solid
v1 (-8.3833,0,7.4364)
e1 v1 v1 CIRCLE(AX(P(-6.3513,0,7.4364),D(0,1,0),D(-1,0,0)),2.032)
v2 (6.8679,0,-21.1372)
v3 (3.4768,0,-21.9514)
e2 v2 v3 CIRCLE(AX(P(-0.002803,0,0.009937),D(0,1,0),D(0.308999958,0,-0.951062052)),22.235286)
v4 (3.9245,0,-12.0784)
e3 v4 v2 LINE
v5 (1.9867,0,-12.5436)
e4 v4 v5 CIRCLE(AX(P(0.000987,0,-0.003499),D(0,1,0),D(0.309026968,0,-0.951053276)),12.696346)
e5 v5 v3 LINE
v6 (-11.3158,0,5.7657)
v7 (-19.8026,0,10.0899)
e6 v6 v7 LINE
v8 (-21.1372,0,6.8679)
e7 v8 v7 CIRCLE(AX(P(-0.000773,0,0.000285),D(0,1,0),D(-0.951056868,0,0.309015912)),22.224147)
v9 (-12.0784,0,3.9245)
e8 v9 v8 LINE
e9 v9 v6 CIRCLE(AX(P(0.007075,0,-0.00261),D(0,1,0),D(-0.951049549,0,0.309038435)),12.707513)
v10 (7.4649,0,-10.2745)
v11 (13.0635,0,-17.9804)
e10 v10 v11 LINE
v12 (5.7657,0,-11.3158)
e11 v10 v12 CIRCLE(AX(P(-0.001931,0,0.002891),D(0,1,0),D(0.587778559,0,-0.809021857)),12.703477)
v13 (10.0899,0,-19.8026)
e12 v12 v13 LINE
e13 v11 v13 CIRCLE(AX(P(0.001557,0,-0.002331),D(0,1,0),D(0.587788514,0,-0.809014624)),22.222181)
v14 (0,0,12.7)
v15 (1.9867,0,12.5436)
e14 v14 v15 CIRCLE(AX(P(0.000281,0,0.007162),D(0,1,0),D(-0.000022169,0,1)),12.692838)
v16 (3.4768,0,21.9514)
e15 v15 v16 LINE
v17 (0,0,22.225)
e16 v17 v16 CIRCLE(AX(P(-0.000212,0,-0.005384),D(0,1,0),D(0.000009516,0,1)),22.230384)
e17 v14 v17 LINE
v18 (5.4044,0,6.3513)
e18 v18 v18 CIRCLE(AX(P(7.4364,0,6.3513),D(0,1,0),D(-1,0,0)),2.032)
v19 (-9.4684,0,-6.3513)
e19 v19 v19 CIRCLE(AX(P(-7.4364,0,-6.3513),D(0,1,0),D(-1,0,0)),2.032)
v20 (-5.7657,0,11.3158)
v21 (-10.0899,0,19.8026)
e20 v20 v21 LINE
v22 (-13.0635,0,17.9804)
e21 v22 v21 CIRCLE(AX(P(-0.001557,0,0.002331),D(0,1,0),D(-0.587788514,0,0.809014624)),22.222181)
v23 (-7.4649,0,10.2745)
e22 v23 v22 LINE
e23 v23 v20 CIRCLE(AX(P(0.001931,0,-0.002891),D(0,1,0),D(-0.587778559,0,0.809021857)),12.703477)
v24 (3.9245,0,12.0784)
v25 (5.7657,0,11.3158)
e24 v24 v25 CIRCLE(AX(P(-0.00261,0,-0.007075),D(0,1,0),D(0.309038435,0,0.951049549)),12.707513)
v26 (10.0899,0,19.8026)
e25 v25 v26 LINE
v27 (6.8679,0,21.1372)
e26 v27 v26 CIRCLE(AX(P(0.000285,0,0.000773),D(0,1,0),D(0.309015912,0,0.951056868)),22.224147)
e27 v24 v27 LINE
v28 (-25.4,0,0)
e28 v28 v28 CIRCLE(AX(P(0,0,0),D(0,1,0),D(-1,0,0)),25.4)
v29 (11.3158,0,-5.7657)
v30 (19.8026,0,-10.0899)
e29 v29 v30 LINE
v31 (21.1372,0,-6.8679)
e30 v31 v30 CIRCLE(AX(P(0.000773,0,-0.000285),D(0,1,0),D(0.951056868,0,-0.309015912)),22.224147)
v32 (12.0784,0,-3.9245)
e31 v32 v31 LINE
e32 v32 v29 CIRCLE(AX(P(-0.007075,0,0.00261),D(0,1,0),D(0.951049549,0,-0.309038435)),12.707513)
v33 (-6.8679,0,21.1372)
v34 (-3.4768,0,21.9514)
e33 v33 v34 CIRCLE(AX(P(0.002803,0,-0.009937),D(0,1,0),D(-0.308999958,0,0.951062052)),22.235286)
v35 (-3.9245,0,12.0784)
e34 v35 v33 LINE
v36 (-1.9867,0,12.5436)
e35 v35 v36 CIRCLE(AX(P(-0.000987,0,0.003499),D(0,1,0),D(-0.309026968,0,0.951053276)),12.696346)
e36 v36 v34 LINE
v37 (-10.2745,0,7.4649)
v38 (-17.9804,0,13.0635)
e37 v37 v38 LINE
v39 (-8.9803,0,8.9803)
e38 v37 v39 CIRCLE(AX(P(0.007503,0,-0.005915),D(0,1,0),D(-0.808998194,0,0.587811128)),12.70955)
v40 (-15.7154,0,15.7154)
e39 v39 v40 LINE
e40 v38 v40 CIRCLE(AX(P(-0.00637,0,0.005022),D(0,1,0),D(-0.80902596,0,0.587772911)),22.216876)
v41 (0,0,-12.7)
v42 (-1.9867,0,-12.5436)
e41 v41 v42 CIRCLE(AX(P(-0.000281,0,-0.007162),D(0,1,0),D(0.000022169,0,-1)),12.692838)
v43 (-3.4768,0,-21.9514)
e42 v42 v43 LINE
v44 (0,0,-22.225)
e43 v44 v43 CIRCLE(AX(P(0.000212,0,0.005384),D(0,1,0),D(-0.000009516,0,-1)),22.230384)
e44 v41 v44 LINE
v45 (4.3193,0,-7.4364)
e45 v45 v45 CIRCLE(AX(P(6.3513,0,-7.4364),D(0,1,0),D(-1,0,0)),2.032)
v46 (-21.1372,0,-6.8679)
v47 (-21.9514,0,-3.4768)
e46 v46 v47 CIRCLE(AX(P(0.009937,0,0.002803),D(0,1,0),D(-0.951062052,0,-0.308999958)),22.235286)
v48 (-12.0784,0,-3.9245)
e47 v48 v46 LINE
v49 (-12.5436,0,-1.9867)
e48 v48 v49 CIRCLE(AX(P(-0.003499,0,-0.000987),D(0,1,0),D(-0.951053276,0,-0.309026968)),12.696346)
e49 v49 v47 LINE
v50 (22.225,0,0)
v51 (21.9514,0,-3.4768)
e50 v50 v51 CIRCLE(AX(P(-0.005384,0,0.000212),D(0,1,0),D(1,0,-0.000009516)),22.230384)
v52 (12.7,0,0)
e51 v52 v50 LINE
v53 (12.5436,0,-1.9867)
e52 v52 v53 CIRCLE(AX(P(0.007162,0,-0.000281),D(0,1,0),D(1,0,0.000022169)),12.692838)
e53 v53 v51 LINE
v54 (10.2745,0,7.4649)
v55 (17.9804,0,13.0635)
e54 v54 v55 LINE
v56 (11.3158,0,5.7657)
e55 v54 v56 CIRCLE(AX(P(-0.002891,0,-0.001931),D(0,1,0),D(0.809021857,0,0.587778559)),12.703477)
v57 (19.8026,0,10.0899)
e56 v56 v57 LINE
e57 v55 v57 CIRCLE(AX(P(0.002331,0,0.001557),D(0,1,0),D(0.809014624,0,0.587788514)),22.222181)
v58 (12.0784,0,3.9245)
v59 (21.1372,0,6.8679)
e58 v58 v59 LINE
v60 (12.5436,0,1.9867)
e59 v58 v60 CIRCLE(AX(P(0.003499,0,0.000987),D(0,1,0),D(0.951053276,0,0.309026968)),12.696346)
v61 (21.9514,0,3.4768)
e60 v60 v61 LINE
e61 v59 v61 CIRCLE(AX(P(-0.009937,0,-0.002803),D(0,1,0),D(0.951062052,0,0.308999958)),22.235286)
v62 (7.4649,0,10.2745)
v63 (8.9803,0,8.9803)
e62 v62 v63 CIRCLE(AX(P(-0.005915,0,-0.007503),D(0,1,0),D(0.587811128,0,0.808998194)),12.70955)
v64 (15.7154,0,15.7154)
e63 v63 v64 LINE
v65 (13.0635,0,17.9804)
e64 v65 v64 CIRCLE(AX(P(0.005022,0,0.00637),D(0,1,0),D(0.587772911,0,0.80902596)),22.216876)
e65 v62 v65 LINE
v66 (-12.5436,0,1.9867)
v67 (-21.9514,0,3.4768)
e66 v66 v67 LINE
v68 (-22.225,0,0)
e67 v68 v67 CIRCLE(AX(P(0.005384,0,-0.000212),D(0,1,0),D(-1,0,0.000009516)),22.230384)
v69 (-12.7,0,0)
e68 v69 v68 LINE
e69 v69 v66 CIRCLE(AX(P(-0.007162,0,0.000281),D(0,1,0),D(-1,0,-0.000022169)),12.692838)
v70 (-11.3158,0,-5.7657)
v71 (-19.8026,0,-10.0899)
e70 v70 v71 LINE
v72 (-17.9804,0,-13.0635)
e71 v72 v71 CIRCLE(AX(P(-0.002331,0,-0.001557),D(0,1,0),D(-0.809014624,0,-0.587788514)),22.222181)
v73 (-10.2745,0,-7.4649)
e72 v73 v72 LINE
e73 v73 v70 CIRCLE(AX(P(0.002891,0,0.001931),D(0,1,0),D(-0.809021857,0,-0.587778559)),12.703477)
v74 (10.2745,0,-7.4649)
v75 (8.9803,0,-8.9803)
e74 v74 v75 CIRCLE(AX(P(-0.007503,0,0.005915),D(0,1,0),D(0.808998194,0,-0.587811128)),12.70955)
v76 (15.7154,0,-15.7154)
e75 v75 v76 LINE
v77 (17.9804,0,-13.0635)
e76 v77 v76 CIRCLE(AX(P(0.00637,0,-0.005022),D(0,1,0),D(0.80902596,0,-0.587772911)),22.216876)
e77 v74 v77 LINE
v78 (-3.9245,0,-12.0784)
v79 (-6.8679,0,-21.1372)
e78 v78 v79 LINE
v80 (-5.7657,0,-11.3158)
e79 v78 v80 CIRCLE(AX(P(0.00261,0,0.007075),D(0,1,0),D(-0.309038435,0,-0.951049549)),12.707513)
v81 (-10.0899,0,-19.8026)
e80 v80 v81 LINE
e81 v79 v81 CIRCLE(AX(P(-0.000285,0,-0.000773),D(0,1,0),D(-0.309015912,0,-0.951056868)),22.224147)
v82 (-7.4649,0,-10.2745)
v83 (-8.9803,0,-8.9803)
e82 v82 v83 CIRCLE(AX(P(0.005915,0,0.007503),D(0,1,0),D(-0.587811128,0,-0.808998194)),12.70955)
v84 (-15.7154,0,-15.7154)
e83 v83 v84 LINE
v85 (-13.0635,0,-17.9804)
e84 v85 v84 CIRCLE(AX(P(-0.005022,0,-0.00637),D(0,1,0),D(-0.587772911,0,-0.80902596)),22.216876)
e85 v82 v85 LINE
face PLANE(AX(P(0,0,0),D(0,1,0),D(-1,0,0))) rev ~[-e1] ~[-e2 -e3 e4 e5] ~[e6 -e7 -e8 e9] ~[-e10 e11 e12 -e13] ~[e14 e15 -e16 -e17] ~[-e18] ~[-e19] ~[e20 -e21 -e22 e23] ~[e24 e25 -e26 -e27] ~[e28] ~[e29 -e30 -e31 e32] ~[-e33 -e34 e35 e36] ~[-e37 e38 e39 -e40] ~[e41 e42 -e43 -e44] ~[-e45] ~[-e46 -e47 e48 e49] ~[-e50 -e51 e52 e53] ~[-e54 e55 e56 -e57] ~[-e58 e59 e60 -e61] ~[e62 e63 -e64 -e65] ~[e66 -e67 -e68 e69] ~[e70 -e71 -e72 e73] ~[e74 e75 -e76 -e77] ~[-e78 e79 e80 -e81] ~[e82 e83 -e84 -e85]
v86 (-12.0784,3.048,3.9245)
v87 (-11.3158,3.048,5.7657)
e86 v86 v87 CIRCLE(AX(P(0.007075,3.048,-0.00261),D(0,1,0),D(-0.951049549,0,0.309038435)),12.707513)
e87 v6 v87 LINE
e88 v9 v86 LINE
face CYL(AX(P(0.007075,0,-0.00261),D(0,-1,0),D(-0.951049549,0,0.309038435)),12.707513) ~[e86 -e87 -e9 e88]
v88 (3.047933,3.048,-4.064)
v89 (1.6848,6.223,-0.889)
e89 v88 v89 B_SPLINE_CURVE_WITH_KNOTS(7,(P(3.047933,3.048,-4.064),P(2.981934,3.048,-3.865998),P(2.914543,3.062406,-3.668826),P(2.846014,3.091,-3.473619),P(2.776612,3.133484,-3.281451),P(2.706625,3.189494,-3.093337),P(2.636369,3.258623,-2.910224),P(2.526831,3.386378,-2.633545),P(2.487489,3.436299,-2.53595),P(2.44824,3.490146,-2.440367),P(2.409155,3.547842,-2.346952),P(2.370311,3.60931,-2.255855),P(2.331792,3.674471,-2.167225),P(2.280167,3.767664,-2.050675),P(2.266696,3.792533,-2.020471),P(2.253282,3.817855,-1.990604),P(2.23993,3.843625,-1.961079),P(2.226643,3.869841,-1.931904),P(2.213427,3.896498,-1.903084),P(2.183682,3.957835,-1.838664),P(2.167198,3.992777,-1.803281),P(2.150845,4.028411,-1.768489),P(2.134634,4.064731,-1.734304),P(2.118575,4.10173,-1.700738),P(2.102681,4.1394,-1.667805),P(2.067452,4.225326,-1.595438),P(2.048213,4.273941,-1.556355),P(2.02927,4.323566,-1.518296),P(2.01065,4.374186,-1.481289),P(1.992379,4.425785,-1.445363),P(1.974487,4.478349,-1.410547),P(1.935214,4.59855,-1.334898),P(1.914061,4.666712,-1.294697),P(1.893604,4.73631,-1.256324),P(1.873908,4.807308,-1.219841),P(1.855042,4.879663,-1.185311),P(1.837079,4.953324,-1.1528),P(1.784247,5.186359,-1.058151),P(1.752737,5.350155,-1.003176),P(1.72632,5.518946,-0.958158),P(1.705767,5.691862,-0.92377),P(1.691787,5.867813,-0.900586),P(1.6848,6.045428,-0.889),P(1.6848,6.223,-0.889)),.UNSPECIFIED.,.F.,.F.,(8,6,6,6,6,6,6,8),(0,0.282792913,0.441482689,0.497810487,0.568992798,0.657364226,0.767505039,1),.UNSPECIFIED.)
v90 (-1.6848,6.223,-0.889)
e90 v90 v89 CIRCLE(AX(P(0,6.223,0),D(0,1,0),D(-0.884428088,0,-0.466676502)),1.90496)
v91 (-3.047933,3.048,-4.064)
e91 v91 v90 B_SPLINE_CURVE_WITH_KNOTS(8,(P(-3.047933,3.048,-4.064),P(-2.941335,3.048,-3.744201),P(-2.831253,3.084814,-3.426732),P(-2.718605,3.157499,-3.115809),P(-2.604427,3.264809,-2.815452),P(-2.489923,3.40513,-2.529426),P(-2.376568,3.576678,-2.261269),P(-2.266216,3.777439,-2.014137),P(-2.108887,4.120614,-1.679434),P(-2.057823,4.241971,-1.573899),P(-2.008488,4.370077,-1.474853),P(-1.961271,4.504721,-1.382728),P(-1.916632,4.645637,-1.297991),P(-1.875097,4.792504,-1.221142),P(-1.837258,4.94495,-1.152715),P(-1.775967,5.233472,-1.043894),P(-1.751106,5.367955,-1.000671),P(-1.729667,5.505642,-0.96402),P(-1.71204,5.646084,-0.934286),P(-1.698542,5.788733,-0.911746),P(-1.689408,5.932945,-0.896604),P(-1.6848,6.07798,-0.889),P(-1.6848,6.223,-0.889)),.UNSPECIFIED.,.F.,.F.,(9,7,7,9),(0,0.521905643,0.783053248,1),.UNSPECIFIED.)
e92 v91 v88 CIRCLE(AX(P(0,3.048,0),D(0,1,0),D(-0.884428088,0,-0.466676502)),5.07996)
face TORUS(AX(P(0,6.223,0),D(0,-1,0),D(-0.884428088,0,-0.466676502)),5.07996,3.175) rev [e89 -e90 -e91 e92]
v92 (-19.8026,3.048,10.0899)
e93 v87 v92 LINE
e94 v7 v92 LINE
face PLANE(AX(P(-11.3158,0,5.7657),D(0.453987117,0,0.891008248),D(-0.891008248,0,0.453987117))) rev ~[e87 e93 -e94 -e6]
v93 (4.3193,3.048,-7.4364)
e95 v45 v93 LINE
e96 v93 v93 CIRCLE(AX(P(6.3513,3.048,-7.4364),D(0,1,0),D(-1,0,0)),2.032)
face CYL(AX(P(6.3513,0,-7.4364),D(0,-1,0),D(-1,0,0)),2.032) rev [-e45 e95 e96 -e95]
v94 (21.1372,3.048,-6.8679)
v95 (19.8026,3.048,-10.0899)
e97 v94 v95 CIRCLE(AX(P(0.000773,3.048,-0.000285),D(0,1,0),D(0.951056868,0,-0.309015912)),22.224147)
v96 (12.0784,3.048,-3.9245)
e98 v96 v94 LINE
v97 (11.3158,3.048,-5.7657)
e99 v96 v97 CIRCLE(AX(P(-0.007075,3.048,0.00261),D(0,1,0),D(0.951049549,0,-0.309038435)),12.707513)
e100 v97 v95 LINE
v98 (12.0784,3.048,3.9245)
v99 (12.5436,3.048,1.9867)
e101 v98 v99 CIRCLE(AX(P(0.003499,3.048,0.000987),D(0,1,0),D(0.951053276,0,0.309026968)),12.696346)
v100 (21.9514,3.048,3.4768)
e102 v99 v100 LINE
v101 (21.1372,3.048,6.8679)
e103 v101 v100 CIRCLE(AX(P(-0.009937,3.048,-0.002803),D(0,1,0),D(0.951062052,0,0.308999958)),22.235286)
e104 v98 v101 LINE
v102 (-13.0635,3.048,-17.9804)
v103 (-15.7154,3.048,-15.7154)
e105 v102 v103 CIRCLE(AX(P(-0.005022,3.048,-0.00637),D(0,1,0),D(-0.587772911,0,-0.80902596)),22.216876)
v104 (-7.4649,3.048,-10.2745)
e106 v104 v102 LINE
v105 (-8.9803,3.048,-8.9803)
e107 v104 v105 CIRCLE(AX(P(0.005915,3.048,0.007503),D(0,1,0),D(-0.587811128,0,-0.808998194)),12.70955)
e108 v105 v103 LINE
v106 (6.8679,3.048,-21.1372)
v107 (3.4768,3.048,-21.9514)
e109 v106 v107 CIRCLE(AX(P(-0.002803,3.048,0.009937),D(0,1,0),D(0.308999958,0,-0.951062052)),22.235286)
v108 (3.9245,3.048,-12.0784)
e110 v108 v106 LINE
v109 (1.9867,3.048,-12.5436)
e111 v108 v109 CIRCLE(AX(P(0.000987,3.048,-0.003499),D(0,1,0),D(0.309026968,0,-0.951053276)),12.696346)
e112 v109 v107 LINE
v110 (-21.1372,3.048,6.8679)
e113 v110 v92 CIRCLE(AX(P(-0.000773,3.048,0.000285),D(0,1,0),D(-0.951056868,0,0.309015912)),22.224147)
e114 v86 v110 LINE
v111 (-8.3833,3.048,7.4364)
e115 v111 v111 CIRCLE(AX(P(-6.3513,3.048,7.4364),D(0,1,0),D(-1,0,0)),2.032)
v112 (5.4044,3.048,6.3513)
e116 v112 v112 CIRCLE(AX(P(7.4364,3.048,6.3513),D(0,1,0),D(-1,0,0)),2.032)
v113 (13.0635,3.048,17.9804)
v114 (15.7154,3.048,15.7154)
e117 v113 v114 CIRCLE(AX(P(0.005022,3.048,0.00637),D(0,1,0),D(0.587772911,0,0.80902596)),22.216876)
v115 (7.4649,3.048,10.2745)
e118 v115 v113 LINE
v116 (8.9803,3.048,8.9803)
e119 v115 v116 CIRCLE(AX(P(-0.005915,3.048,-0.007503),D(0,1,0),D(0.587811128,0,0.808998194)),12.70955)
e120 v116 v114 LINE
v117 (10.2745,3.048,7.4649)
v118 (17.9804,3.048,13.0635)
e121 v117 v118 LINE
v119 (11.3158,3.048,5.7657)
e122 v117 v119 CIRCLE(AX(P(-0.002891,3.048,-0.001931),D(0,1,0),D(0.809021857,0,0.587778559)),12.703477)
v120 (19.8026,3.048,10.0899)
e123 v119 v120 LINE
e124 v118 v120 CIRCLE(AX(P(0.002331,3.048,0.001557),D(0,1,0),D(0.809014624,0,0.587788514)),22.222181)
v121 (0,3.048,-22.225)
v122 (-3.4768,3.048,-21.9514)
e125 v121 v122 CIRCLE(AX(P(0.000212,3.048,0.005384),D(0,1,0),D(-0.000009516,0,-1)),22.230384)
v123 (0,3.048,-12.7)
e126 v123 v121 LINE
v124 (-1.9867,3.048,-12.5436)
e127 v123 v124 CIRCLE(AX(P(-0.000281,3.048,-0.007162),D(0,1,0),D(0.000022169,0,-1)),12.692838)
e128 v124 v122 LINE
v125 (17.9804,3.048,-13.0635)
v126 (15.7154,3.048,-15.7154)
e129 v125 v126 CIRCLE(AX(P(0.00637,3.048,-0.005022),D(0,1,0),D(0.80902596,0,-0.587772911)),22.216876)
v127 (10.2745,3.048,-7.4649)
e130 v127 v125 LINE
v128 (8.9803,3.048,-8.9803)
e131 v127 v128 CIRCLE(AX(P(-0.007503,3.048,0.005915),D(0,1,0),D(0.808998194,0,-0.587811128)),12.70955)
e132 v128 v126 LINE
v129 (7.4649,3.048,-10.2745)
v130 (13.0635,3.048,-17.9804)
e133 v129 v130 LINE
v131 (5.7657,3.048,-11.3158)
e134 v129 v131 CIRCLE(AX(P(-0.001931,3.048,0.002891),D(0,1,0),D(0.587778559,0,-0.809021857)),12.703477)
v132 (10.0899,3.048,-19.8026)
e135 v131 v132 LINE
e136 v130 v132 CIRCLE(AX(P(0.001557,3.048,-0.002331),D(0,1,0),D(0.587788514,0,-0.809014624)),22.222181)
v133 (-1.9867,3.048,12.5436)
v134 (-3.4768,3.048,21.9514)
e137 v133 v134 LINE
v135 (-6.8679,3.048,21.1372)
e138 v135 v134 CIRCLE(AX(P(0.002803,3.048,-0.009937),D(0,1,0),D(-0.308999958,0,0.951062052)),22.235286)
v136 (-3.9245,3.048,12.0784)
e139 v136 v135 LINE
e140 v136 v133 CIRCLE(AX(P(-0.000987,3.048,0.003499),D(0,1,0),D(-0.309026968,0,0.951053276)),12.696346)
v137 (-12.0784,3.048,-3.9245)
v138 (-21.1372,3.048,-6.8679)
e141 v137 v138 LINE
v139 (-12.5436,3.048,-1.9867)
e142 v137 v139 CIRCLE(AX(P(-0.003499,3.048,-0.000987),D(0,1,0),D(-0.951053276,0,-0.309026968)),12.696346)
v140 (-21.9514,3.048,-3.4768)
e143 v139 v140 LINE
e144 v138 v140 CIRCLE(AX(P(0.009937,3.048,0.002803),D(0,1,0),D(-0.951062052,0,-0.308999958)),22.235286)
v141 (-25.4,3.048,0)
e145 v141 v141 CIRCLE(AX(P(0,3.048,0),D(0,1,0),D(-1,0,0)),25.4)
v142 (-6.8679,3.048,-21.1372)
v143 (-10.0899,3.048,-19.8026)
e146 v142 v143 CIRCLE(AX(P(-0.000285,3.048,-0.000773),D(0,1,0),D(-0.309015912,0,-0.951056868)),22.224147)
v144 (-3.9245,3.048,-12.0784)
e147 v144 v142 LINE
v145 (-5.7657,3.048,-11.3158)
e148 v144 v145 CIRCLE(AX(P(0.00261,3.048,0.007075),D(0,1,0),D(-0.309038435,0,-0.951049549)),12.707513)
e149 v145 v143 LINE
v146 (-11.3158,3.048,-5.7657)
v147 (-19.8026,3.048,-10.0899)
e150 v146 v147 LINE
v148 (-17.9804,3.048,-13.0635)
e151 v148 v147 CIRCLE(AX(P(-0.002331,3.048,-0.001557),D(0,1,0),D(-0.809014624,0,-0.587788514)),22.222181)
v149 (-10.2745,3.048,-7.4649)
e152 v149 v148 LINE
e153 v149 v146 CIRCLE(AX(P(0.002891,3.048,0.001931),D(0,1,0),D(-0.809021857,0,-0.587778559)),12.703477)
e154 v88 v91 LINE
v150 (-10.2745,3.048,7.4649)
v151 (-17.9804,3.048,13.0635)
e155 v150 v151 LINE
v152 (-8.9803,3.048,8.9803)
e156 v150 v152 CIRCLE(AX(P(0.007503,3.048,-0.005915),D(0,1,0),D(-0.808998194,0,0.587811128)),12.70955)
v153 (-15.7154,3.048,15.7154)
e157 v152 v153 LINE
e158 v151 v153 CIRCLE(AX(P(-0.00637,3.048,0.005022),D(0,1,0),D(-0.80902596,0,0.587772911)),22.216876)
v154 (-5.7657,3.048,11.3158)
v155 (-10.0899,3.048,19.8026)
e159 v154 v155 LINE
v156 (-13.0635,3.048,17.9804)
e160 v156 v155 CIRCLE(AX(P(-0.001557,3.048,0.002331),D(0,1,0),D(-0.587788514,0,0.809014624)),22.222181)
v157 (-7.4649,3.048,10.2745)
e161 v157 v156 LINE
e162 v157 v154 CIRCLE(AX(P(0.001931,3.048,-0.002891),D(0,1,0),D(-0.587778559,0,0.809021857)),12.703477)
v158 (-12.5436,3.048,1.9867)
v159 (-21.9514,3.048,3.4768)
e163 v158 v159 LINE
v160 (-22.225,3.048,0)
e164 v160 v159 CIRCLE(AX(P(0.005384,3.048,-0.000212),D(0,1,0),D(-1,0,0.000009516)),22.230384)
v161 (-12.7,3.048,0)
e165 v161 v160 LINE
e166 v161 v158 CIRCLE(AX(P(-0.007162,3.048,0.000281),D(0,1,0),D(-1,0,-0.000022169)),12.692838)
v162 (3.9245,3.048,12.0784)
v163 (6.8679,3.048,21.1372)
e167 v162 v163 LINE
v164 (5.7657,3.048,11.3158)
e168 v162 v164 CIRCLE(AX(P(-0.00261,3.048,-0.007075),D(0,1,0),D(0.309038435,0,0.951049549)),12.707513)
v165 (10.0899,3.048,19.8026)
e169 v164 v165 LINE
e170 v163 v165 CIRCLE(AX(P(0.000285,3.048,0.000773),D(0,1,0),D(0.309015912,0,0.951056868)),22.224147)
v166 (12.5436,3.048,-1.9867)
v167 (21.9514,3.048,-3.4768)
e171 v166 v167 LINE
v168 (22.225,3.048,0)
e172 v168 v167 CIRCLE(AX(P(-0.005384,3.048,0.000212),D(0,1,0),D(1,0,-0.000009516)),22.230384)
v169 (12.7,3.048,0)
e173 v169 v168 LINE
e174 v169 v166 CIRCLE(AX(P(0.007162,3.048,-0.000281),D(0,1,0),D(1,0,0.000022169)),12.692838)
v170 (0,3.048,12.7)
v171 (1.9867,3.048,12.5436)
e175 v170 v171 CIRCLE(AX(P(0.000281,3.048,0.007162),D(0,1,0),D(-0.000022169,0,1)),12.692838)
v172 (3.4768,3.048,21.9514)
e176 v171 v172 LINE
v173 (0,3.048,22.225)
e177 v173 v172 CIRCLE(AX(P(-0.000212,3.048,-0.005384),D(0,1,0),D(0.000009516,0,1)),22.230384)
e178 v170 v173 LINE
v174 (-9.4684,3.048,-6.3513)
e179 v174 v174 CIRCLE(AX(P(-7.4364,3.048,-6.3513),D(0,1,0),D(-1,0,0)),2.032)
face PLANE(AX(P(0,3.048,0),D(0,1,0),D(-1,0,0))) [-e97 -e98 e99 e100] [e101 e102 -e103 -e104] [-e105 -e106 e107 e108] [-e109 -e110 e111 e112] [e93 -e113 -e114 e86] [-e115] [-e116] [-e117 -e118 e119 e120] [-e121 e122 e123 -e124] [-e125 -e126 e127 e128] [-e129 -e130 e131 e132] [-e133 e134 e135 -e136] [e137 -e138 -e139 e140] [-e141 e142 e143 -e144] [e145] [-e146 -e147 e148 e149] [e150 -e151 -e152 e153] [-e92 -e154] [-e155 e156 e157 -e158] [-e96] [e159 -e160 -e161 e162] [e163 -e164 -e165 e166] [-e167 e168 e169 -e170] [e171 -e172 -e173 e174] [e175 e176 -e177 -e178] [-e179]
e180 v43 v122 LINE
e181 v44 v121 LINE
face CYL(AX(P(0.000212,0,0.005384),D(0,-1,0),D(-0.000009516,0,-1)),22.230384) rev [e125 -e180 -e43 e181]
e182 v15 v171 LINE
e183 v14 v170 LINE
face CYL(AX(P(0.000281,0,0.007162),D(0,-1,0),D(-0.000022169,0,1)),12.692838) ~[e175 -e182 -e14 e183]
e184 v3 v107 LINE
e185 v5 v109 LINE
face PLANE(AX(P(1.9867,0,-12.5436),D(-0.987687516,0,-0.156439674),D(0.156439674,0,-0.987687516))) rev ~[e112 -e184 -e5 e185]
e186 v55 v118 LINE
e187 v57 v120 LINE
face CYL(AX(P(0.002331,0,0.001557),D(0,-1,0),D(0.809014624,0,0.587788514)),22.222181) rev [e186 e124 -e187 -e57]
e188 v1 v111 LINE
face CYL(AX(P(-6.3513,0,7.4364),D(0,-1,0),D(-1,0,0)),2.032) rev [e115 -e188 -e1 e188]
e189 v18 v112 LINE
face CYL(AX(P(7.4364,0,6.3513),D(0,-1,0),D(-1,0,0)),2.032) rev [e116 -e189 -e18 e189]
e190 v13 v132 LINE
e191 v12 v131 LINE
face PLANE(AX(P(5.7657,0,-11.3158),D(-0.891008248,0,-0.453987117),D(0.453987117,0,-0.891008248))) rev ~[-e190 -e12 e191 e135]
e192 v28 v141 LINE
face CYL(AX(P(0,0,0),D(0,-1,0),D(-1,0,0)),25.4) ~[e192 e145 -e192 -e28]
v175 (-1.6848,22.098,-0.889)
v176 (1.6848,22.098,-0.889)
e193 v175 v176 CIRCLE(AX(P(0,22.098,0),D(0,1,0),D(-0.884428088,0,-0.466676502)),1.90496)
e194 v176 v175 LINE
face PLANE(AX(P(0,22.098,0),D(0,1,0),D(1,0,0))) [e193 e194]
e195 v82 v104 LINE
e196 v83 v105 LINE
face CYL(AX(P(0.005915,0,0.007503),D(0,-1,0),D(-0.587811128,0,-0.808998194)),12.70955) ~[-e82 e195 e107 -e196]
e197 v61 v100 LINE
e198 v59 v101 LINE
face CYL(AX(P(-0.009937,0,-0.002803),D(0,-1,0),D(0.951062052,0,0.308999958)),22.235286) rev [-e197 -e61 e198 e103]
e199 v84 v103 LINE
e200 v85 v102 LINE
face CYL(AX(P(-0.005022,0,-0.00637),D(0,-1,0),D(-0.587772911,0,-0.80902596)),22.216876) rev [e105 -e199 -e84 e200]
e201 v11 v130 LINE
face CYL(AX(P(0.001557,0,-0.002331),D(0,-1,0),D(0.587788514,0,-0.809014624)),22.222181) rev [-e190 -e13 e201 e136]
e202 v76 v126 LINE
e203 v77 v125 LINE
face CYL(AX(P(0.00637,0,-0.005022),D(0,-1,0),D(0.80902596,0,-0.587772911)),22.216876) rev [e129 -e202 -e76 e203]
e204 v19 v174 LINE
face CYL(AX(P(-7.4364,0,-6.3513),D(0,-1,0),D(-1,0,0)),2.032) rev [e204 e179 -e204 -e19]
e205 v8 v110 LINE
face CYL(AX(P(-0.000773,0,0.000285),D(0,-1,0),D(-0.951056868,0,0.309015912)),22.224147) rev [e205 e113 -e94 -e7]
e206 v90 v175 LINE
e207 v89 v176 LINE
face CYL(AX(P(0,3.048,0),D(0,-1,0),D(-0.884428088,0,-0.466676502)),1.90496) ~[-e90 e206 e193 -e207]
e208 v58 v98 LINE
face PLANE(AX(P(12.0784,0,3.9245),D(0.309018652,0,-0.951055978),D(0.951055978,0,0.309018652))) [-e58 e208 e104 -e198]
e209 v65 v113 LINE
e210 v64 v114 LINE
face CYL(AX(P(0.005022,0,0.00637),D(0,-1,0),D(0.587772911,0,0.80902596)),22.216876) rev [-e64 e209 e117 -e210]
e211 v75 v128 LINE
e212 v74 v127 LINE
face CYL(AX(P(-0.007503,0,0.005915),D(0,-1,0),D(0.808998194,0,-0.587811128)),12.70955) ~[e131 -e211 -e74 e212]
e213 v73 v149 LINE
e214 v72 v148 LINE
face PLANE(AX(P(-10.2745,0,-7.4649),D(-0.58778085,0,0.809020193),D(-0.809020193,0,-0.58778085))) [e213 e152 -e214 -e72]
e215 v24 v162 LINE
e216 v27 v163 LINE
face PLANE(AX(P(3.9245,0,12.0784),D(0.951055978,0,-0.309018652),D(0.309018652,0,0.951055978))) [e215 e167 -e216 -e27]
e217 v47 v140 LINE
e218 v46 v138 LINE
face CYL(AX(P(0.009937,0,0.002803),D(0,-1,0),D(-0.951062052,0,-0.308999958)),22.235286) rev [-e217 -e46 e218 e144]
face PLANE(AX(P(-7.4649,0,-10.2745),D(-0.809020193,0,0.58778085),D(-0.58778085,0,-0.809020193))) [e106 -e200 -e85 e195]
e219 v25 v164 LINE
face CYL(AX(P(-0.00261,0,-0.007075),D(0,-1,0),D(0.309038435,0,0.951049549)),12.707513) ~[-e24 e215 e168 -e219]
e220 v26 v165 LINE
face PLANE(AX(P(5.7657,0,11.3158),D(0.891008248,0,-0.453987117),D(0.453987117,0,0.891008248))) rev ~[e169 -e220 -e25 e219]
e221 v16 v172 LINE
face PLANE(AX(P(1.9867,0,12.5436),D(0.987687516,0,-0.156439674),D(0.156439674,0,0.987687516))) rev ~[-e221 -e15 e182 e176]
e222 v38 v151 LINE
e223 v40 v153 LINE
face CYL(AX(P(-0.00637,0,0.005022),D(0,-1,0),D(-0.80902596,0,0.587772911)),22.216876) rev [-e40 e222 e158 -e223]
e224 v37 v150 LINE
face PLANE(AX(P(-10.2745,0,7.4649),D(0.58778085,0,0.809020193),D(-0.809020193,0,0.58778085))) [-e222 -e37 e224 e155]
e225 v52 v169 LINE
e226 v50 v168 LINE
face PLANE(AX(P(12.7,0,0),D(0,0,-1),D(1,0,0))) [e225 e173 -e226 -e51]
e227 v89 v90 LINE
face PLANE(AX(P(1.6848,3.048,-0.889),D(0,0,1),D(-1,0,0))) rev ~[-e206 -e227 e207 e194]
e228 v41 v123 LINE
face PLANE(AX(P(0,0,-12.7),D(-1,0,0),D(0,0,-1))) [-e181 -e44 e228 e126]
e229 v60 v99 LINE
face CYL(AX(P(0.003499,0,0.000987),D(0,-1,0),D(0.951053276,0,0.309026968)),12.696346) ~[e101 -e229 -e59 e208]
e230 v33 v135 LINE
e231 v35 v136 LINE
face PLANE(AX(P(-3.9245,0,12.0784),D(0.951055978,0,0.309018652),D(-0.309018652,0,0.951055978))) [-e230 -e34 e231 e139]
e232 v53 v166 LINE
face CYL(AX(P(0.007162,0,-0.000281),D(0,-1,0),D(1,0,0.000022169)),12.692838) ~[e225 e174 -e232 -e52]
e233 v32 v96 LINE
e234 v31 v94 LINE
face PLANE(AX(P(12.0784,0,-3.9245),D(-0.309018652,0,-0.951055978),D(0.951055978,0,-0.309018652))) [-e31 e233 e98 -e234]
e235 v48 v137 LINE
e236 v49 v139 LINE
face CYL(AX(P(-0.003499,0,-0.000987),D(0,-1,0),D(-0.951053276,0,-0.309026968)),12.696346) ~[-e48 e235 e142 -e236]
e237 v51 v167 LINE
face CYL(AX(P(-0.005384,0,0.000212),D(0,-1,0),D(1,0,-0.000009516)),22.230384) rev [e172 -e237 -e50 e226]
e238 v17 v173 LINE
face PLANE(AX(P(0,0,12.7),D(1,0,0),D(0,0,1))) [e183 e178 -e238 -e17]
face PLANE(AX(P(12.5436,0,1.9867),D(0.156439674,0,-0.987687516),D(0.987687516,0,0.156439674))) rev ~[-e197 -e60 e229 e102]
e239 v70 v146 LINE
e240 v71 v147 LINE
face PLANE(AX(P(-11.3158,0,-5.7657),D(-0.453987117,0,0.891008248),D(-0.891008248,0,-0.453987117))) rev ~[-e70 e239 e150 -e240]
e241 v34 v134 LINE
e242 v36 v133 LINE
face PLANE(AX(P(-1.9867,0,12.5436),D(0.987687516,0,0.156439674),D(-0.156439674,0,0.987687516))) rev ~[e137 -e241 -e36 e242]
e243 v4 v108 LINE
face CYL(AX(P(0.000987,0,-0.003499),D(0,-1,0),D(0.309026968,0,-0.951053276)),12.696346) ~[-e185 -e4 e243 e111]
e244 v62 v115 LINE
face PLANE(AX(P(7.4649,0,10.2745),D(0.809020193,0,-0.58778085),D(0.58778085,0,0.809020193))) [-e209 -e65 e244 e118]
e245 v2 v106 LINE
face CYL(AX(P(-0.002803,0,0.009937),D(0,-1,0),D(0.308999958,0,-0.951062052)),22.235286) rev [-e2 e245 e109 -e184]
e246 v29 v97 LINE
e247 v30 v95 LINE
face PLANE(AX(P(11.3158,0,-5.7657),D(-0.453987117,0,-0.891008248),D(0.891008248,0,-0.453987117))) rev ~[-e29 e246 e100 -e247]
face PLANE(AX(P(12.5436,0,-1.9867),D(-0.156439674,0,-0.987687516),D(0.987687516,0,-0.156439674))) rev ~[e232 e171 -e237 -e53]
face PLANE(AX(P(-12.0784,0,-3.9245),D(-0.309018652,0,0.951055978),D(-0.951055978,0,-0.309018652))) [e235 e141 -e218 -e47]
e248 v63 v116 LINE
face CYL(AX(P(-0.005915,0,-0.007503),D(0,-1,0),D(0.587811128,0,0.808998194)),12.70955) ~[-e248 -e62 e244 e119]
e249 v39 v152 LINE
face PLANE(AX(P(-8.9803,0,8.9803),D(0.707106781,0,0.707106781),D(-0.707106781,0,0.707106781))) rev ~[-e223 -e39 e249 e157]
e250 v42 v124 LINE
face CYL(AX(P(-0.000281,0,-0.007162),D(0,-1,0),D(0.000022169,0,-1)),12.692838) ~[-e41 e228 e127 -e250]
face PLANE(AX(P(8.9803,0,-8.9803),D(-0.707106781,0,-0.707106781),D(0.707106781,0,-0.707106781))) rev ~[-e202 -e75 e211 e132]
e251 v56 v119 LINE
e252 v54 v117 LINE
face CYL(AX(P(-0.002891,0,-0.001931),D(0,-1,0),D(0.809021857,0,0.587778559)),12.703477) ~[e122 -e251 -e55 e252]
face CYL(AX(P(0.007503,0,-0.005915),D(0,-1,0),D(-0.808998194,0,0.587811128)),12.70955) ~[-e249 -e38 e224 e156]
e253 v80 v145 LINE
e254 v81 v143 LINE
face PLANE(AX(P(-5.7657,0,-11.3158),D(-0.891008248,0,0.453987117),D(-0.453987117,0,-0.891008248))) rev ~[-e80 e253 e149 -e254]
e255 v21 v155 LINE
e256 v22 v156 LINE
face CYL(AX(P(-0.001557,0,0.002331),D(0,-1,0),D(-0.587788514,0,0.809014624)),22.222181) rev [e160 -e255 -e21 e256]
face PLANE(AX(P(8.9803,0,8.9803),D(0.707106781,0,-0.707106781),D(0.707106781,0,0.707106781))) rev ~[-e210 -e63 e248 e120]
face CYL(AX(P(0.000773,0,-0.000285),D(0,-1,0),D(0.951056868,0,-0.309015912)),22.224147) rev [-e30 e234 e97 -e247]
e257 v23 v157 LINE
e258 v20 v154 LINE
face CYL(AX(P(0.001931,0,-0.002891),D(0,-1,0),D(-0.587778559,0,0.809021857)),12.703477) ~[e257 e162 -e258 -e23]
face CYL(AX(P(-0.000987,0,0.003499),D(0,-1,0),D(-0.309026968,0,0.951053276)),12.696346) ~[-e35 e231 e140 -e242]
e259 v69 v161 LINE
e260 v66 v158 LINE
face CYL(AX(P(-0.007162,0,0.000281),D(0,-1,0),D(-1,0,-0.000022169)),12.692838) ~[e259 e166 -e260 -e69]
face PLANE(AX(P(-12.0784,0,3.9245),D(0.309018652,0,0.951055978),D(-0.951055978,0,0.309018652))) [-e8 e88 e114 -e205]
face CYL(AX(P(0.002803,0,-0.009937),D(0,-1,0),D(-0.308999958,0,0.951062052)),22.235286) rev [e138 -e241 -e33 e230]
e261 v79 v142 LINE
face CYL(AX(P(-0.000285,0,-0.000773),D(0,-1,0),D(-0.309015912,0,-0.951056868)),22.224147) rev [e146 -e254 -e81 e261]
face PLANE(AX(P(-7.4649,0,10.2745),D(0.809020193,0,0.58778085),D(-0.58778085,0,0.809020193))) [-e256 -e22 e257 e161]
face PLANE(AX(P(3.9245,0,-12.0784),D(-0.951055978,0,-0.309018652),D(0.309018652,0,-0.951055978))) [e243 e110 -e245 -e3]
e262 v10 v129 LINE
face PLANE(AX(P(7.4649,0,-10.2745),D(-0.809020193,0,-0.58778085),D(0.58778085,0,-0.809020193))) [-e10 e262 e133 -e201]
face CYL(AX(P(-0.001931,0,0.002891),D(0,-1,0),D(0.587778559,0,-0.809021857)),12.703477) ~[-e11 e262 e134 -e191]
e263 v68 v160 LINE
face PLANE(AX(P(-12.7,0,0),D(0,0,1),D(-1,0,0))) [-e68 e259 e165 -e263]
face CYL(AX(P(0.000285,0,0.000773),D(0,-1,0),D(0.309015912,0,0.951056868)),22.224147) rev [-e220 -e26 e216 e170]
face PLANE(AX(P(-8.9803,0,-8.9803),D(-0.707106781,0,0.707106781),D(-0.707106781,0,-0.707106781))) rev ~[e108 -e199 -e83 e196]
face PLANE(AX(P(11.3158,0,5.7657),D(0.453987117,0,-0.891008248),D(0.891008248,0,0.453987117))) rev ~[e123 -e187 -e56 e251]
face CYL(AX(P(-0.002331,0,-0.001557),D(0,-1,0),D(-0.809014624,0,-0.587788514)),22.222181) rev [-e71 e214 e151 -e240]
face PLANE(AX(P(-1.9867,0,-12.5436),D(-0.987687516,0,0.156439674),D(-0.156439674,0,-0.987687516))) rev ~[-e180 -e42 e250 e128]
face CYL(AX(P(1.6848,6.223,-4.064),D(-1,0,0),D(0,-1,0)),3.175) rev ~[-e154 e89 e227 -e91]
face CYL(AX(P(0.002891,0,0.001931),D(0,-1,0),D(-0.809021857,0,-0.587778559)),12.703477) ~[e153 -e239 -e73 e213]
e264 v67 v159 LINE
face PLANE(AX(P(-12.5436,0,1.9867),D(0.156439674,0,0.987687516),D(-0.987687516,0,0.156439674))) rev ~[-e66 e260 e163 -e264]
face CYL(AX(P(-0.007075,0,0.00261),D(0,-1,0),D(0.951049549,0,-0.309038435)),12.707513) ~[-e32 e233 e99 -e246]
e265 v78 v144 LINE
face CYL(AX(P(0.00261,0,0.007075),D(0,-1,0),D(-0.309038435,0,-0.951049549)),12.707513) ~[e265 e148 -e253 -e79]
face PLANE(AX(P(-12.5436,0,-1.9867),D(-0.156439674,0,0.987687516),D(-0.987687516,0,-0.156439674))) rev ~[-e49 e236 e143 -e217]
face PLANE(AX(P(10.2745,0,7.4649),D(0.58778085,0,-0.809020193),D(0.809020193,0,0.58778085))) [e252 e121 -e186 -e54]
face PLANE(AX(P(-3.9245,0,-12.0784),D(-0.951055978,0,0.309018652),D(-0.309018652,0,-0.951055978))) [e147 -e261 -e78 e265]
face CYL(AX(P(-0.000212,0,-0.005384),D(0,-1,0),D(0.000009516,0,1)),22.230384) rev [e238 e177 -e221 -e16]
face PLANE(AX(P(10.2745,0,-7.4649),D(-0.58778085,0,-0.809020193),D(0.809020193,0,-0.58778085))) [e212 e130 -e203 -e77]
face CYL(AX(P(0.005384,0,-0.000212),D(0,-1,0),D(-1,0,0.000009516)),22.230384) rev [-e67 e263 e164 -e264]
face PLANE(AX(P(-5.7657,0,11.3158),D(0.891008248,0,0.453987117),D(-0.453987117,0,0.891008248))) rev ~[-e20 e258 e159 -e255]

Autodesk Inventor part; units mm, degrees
ref_plane "YZ Plane" through (0, 0, 0) normal (1, 0, 0) x (0, 1, 0)
ref_plane "XZ Plane" through (0, 0, 0) normal (0, 1, 0) x (-1, 0, 0)
ref_plane "XY Plane" through (0, 0, 0) normal (0, 0, 1) x (1, 0, 0)
sketch "Sketch1" plane through (0, 0, 0) normal (0, 1, 0) x (-1, 0, 0)
  circle A0 centre (0, 0) radius 25.4
  arc A1 (22.225, 0) -> (21.9514, 3.4768) centre (0, 0) ccw
  arc A2 (12.7, 0) -> (12.5436, 1.9867) centre (0, 0) ccw
  line L0 (12.7, 0) -> (22.225, 0)
  line L1 (12.5436, 1.9867) -> (21.9514, 3.4768)
  line L2 (12.7, 0) -> (22.225, 0) construction
  arc A3 (21.1372, -6.8679) -> (21.9514, -3.4768) centre (0, 0) ccw
  arc A4 (12.0784, -3.9245) -> (12.5436, -1.9867) centre (0, 0) ccw
  line L3 (12.0784, -3.9245) -> (21.1372, -6.8679)
  line L4 (12.5436, -1.9867) -> (21.9514, -3.4768)
  arc A5 (17.9804, -13.0635) -> (19.8026, -10.0899) centre (0, 0) ccw
  arc A6 (10.2745, -7.4649) -> (11.3158, -5.7657) centre (0, 0) ccw
  line L5 (10.2745, -7.4649) -> (17.9804, -13.0635)
  line L6 (11.3158, -5.7657) -> (19.8026, -10.0899)
  arc A7 (13.0635, -17.9804) -> (15.7154, -15.7154) centre (0, 0) ccw
  arc A8 (7.4649, -10.2745) -> (8.9803, -8.9803) centre (0, 0) ccw
  line L7 (7.4649, -10.2745) -> (13.0635, -17.9804)
  line L8 (8.9803, -8.9803) -> (15.7154, -15.7154)
  arc A9 (6.8679, -21.1372) -> (10.0899, -19.8026) centre (0, 0) ccw
  arc A10 (3.9245, -12.0784) -> (5.7657, -11.3158) centre (0, 0) ccw
  line L9 (3.9245, -12.0784) -> (6.8679, -21.1372)
  line L10 (5.7657, -11.3158) -> (10.0899, -19.8026)
  arc A11 (0, -22.225) -> (3.4768, -21.9514) centre (0, 0) ccw
  arc A12 (0, -12.7) -> (1.9867, -12.5436) centre (0, 0) ccw
  line L11 (0, -12.7) -> (0, -22.225)
  line L12 (1.9867, -12.5436) -> (3.4768, -21.9514)
  arc A13 (-6.8679, -21.1372) -> (-3.4768, -21.9514) centre (0, 0) ccw
  arc A14 (-3.9245, -12.0784) -> (-1.9867, -12.5436) centre (0, 0) ccw
  line L13 (-3.9245, -12.0784) -> (-6.8679, -21.1372)
  line L14 (-1.9867, -12.5436) -> (-3.4768, -21.9514)
  arc A15 (-13.0635, -17.9804) -> (-10.0899, -19.8026) centre (0, 0) ccw
  arc A16 (-7.4649, -10.2745) -> (-5.7657, -11.3158) centre (0, 0) ccw
  line L15 (-7.4649, -10.2745) -> (-13.0635, -17.9804)
  line L16 (-5.7657, -11.3158) -> (-10.0899, -19.8026)
  arc A17 (-17.9804, -13.0635) -> (-15.7154, -15.7154) centre (0, 0) ccw
  arc A18 (-10.2745, -7.4649) -> (-8.9803, -8.9803) centre (0, 0) ccw
  line L17 (-10.2745, -7.4649) -> (-17.9804, -13.0635)
  line L18 (-8.9803, -8.9803) -> (-15.7154, -15.7154)
  arc A19 (-21.1372, -6.8679) -> (-19.8026, -10.0899) centre (0, 0) ccw
  arc A20 (-12.0784, -3.9245) -> (-11.3158, -5.7657) centre (0, 0) ccw
  line L19 (-12.0784, -3.9245) -> (-21.1372, -6.8679)
  line L20 (-11.3158, -5.7657) -> (-19.8026, -10.0899)
  arc A21 (-22.225, 0) -> (-21.9514, -3.4768) centre (0, 0) ccw
  arc A22 (-12.7, 0) -> (-12.5436, -1.9867) centre (0, 0) ccw
  line L21 (-12.7, 0) -> (-22.225, 0)
  line L22 (-12.5436, -1.9867) -> (-21.9514, -3.4768)
  arc A23 (-21.1372, 6.8679) -> (-21.9514, 3.4768) centre (0, 0) ccw
  arc A24 (-12.0784, 3.9245) -> (-12.5436, 1.9867) centre (0, 0) ccw
  line L23 (-12.0784, 3.9245) -> (-21.1372, 6.8679)
  line L24 (-12.5436, 1.9867) -> (-21.9514, 3.4768)
  arc A25 (-17.9804, 13.0635) -> (-19.8026, 10.0899) centre (0, 0) ccw
  arc A26 (-10.2745, 7.4649) -> (-11.3158, 5.7657) centre (0, 0) ccw
  line L25 (-10.2745, 7.4649) -> (-17.9804, 13.0635)
  line L26 (-11.3158, 5.7657) -> (-19.8026, 10.0899)
  arc A27 (-13.0635, 17.9804) -> (-15.7154, 15.7154) centre (0, 0) ccw
  arc A28 (-7.4649, 10.2745) -> (-8.9803, 8.9803) centre (0, 0) ccw
  line L27 (-7.4649, 10.2745) -> (-13.0635, 17.9804)
  line L28 (-8.9803, 8.9803) -> (-15.7154, 15.7154)
  arc A29 (-6.8679, 21.1372) -> (-10.0899, 19.8026) centre (0, 0) ccw
  arc A30 (-3.9245, 12.0784) -> (-5.7657, 11.3158) centre (0, 0) ccw
  line L29 (-3.9245, 12.0784) -> (-6.8679, 21.1372)
  line L30 (-5.7657, 11.3158) -> (-10.0899, 19.8026)
  arc A31 (0, 22.225) -> (-3.4768, 21.9514) centre (0, 0) ccw
  arc A32 (0, 12.7) -> (-1.9867, 12.5436) centre (0, 0) ccw
  line L31 (0, 12.7) -> (0, 22.225)
  line L32 (-1.9867, 12.5436) -> (-3.4768, 21.9514)
  arc A33 (6.8679, 21.1372) -> (3.4768, 21.9514) centre (0, 0) ccw
  arc A34 (3.9245, 12.0784) -> (1.9867, 12.5436) centre (0, 0) ccw
  line L33 (3.9245, 12.0784) -> (6.8679, 21.1372)
  line L34 (1.9867, 12.5436) -> (3.4768, 21.9514)
  arc A35 (13.0635, 17.9804) -> (10.0899, 19.8026) centre (0, 0) ccw
  arc A36 (7.4649, 10.2745) -> (5.7657, 11.3158) centre (0, 0) ccw
  line L35 (7.4649, 10.2745) -> (13.0635, 17.9804)
  line L36 (5.7657, 11.3158) -> (10.0899, 19.8026)
  arc A37 (17.9804, 13.0635) -> (15.7154, 15.7154) centre (0, 0) ccw
  arc A38 (10.2745, 7.4649) -> (8.9803, 8.9803) centre (0, 0) ccw
  line L37 (10.2745, 7.4649) -> (17.9804, 13.0635)
  line L38 (8.9803, 8.9803) -> (15.7154, 15.7154)
  arc A39 (21.1372, 6.8679) -> (19.8026, 10.0899) centre (0, 0) ccw
  arc A40 (12.0784, 3.9245) -> (11.3158, 5.7657) centre (0, 0) ccw
  line L39 (12.0784, 3.9245) -> (21.1372, 6.8679)
  line L40 (11.3158, 5.7657) -> (19.8026, 10.0899)
  line L41 (-6.3513, -7.4364) -> (6.3513, 7.4364) construction
  line L42 (7.4364, -6.3513) -> (-7.4364, 6.3513) construction
  circle A41 centre (-7.4364, 6.3513) radius 2.032
  circle A42 centre (6.3513, 7.4364) radius 2.032
  circle A43 centre (7.4364, -6.3513) radius 2.032
  circle A44 centre (-6.3513, -7.4364) radius 2.032
  dimension "d0" = 50.8
  dimension "d3" = 9
  dimension "d6" = 360
  dimension "d8" = 13.8303
  dimension "d9" = 13.8303
  dimension "d10" = 4.064
  dimension "d11" = 4.064
  dimension "d12" = 4.064
  dimension "d13" = 4.064
extrude "Extrusion1" add sketch "Sketch1" along normal blind 3.048
sketch "Sketch2" plane through (0, 3.048, 0) normal (0, 1, 0) x (1, 0, 0)
  circle A0 centre (0, 0) radius 25.4 projected
  arc A1 (-1.6848, 0.889) -> (1.6848, 0.889) centre (0, 0) ccw
  line L0 (1.6848, 0.889) -> (-1.6848, 0.889)
  dimension "d16" = 3.81
extrude "Extrusion2" add sketch "Sketch2" along normal blind 19.05 contours L0 A1
fillet "Fillet1" radius 3.175 2 edges at (0, 3.048, 1.905) (0, 3.048, -0.889)
properties part number "EncoderWheelAndPotInsert2"
